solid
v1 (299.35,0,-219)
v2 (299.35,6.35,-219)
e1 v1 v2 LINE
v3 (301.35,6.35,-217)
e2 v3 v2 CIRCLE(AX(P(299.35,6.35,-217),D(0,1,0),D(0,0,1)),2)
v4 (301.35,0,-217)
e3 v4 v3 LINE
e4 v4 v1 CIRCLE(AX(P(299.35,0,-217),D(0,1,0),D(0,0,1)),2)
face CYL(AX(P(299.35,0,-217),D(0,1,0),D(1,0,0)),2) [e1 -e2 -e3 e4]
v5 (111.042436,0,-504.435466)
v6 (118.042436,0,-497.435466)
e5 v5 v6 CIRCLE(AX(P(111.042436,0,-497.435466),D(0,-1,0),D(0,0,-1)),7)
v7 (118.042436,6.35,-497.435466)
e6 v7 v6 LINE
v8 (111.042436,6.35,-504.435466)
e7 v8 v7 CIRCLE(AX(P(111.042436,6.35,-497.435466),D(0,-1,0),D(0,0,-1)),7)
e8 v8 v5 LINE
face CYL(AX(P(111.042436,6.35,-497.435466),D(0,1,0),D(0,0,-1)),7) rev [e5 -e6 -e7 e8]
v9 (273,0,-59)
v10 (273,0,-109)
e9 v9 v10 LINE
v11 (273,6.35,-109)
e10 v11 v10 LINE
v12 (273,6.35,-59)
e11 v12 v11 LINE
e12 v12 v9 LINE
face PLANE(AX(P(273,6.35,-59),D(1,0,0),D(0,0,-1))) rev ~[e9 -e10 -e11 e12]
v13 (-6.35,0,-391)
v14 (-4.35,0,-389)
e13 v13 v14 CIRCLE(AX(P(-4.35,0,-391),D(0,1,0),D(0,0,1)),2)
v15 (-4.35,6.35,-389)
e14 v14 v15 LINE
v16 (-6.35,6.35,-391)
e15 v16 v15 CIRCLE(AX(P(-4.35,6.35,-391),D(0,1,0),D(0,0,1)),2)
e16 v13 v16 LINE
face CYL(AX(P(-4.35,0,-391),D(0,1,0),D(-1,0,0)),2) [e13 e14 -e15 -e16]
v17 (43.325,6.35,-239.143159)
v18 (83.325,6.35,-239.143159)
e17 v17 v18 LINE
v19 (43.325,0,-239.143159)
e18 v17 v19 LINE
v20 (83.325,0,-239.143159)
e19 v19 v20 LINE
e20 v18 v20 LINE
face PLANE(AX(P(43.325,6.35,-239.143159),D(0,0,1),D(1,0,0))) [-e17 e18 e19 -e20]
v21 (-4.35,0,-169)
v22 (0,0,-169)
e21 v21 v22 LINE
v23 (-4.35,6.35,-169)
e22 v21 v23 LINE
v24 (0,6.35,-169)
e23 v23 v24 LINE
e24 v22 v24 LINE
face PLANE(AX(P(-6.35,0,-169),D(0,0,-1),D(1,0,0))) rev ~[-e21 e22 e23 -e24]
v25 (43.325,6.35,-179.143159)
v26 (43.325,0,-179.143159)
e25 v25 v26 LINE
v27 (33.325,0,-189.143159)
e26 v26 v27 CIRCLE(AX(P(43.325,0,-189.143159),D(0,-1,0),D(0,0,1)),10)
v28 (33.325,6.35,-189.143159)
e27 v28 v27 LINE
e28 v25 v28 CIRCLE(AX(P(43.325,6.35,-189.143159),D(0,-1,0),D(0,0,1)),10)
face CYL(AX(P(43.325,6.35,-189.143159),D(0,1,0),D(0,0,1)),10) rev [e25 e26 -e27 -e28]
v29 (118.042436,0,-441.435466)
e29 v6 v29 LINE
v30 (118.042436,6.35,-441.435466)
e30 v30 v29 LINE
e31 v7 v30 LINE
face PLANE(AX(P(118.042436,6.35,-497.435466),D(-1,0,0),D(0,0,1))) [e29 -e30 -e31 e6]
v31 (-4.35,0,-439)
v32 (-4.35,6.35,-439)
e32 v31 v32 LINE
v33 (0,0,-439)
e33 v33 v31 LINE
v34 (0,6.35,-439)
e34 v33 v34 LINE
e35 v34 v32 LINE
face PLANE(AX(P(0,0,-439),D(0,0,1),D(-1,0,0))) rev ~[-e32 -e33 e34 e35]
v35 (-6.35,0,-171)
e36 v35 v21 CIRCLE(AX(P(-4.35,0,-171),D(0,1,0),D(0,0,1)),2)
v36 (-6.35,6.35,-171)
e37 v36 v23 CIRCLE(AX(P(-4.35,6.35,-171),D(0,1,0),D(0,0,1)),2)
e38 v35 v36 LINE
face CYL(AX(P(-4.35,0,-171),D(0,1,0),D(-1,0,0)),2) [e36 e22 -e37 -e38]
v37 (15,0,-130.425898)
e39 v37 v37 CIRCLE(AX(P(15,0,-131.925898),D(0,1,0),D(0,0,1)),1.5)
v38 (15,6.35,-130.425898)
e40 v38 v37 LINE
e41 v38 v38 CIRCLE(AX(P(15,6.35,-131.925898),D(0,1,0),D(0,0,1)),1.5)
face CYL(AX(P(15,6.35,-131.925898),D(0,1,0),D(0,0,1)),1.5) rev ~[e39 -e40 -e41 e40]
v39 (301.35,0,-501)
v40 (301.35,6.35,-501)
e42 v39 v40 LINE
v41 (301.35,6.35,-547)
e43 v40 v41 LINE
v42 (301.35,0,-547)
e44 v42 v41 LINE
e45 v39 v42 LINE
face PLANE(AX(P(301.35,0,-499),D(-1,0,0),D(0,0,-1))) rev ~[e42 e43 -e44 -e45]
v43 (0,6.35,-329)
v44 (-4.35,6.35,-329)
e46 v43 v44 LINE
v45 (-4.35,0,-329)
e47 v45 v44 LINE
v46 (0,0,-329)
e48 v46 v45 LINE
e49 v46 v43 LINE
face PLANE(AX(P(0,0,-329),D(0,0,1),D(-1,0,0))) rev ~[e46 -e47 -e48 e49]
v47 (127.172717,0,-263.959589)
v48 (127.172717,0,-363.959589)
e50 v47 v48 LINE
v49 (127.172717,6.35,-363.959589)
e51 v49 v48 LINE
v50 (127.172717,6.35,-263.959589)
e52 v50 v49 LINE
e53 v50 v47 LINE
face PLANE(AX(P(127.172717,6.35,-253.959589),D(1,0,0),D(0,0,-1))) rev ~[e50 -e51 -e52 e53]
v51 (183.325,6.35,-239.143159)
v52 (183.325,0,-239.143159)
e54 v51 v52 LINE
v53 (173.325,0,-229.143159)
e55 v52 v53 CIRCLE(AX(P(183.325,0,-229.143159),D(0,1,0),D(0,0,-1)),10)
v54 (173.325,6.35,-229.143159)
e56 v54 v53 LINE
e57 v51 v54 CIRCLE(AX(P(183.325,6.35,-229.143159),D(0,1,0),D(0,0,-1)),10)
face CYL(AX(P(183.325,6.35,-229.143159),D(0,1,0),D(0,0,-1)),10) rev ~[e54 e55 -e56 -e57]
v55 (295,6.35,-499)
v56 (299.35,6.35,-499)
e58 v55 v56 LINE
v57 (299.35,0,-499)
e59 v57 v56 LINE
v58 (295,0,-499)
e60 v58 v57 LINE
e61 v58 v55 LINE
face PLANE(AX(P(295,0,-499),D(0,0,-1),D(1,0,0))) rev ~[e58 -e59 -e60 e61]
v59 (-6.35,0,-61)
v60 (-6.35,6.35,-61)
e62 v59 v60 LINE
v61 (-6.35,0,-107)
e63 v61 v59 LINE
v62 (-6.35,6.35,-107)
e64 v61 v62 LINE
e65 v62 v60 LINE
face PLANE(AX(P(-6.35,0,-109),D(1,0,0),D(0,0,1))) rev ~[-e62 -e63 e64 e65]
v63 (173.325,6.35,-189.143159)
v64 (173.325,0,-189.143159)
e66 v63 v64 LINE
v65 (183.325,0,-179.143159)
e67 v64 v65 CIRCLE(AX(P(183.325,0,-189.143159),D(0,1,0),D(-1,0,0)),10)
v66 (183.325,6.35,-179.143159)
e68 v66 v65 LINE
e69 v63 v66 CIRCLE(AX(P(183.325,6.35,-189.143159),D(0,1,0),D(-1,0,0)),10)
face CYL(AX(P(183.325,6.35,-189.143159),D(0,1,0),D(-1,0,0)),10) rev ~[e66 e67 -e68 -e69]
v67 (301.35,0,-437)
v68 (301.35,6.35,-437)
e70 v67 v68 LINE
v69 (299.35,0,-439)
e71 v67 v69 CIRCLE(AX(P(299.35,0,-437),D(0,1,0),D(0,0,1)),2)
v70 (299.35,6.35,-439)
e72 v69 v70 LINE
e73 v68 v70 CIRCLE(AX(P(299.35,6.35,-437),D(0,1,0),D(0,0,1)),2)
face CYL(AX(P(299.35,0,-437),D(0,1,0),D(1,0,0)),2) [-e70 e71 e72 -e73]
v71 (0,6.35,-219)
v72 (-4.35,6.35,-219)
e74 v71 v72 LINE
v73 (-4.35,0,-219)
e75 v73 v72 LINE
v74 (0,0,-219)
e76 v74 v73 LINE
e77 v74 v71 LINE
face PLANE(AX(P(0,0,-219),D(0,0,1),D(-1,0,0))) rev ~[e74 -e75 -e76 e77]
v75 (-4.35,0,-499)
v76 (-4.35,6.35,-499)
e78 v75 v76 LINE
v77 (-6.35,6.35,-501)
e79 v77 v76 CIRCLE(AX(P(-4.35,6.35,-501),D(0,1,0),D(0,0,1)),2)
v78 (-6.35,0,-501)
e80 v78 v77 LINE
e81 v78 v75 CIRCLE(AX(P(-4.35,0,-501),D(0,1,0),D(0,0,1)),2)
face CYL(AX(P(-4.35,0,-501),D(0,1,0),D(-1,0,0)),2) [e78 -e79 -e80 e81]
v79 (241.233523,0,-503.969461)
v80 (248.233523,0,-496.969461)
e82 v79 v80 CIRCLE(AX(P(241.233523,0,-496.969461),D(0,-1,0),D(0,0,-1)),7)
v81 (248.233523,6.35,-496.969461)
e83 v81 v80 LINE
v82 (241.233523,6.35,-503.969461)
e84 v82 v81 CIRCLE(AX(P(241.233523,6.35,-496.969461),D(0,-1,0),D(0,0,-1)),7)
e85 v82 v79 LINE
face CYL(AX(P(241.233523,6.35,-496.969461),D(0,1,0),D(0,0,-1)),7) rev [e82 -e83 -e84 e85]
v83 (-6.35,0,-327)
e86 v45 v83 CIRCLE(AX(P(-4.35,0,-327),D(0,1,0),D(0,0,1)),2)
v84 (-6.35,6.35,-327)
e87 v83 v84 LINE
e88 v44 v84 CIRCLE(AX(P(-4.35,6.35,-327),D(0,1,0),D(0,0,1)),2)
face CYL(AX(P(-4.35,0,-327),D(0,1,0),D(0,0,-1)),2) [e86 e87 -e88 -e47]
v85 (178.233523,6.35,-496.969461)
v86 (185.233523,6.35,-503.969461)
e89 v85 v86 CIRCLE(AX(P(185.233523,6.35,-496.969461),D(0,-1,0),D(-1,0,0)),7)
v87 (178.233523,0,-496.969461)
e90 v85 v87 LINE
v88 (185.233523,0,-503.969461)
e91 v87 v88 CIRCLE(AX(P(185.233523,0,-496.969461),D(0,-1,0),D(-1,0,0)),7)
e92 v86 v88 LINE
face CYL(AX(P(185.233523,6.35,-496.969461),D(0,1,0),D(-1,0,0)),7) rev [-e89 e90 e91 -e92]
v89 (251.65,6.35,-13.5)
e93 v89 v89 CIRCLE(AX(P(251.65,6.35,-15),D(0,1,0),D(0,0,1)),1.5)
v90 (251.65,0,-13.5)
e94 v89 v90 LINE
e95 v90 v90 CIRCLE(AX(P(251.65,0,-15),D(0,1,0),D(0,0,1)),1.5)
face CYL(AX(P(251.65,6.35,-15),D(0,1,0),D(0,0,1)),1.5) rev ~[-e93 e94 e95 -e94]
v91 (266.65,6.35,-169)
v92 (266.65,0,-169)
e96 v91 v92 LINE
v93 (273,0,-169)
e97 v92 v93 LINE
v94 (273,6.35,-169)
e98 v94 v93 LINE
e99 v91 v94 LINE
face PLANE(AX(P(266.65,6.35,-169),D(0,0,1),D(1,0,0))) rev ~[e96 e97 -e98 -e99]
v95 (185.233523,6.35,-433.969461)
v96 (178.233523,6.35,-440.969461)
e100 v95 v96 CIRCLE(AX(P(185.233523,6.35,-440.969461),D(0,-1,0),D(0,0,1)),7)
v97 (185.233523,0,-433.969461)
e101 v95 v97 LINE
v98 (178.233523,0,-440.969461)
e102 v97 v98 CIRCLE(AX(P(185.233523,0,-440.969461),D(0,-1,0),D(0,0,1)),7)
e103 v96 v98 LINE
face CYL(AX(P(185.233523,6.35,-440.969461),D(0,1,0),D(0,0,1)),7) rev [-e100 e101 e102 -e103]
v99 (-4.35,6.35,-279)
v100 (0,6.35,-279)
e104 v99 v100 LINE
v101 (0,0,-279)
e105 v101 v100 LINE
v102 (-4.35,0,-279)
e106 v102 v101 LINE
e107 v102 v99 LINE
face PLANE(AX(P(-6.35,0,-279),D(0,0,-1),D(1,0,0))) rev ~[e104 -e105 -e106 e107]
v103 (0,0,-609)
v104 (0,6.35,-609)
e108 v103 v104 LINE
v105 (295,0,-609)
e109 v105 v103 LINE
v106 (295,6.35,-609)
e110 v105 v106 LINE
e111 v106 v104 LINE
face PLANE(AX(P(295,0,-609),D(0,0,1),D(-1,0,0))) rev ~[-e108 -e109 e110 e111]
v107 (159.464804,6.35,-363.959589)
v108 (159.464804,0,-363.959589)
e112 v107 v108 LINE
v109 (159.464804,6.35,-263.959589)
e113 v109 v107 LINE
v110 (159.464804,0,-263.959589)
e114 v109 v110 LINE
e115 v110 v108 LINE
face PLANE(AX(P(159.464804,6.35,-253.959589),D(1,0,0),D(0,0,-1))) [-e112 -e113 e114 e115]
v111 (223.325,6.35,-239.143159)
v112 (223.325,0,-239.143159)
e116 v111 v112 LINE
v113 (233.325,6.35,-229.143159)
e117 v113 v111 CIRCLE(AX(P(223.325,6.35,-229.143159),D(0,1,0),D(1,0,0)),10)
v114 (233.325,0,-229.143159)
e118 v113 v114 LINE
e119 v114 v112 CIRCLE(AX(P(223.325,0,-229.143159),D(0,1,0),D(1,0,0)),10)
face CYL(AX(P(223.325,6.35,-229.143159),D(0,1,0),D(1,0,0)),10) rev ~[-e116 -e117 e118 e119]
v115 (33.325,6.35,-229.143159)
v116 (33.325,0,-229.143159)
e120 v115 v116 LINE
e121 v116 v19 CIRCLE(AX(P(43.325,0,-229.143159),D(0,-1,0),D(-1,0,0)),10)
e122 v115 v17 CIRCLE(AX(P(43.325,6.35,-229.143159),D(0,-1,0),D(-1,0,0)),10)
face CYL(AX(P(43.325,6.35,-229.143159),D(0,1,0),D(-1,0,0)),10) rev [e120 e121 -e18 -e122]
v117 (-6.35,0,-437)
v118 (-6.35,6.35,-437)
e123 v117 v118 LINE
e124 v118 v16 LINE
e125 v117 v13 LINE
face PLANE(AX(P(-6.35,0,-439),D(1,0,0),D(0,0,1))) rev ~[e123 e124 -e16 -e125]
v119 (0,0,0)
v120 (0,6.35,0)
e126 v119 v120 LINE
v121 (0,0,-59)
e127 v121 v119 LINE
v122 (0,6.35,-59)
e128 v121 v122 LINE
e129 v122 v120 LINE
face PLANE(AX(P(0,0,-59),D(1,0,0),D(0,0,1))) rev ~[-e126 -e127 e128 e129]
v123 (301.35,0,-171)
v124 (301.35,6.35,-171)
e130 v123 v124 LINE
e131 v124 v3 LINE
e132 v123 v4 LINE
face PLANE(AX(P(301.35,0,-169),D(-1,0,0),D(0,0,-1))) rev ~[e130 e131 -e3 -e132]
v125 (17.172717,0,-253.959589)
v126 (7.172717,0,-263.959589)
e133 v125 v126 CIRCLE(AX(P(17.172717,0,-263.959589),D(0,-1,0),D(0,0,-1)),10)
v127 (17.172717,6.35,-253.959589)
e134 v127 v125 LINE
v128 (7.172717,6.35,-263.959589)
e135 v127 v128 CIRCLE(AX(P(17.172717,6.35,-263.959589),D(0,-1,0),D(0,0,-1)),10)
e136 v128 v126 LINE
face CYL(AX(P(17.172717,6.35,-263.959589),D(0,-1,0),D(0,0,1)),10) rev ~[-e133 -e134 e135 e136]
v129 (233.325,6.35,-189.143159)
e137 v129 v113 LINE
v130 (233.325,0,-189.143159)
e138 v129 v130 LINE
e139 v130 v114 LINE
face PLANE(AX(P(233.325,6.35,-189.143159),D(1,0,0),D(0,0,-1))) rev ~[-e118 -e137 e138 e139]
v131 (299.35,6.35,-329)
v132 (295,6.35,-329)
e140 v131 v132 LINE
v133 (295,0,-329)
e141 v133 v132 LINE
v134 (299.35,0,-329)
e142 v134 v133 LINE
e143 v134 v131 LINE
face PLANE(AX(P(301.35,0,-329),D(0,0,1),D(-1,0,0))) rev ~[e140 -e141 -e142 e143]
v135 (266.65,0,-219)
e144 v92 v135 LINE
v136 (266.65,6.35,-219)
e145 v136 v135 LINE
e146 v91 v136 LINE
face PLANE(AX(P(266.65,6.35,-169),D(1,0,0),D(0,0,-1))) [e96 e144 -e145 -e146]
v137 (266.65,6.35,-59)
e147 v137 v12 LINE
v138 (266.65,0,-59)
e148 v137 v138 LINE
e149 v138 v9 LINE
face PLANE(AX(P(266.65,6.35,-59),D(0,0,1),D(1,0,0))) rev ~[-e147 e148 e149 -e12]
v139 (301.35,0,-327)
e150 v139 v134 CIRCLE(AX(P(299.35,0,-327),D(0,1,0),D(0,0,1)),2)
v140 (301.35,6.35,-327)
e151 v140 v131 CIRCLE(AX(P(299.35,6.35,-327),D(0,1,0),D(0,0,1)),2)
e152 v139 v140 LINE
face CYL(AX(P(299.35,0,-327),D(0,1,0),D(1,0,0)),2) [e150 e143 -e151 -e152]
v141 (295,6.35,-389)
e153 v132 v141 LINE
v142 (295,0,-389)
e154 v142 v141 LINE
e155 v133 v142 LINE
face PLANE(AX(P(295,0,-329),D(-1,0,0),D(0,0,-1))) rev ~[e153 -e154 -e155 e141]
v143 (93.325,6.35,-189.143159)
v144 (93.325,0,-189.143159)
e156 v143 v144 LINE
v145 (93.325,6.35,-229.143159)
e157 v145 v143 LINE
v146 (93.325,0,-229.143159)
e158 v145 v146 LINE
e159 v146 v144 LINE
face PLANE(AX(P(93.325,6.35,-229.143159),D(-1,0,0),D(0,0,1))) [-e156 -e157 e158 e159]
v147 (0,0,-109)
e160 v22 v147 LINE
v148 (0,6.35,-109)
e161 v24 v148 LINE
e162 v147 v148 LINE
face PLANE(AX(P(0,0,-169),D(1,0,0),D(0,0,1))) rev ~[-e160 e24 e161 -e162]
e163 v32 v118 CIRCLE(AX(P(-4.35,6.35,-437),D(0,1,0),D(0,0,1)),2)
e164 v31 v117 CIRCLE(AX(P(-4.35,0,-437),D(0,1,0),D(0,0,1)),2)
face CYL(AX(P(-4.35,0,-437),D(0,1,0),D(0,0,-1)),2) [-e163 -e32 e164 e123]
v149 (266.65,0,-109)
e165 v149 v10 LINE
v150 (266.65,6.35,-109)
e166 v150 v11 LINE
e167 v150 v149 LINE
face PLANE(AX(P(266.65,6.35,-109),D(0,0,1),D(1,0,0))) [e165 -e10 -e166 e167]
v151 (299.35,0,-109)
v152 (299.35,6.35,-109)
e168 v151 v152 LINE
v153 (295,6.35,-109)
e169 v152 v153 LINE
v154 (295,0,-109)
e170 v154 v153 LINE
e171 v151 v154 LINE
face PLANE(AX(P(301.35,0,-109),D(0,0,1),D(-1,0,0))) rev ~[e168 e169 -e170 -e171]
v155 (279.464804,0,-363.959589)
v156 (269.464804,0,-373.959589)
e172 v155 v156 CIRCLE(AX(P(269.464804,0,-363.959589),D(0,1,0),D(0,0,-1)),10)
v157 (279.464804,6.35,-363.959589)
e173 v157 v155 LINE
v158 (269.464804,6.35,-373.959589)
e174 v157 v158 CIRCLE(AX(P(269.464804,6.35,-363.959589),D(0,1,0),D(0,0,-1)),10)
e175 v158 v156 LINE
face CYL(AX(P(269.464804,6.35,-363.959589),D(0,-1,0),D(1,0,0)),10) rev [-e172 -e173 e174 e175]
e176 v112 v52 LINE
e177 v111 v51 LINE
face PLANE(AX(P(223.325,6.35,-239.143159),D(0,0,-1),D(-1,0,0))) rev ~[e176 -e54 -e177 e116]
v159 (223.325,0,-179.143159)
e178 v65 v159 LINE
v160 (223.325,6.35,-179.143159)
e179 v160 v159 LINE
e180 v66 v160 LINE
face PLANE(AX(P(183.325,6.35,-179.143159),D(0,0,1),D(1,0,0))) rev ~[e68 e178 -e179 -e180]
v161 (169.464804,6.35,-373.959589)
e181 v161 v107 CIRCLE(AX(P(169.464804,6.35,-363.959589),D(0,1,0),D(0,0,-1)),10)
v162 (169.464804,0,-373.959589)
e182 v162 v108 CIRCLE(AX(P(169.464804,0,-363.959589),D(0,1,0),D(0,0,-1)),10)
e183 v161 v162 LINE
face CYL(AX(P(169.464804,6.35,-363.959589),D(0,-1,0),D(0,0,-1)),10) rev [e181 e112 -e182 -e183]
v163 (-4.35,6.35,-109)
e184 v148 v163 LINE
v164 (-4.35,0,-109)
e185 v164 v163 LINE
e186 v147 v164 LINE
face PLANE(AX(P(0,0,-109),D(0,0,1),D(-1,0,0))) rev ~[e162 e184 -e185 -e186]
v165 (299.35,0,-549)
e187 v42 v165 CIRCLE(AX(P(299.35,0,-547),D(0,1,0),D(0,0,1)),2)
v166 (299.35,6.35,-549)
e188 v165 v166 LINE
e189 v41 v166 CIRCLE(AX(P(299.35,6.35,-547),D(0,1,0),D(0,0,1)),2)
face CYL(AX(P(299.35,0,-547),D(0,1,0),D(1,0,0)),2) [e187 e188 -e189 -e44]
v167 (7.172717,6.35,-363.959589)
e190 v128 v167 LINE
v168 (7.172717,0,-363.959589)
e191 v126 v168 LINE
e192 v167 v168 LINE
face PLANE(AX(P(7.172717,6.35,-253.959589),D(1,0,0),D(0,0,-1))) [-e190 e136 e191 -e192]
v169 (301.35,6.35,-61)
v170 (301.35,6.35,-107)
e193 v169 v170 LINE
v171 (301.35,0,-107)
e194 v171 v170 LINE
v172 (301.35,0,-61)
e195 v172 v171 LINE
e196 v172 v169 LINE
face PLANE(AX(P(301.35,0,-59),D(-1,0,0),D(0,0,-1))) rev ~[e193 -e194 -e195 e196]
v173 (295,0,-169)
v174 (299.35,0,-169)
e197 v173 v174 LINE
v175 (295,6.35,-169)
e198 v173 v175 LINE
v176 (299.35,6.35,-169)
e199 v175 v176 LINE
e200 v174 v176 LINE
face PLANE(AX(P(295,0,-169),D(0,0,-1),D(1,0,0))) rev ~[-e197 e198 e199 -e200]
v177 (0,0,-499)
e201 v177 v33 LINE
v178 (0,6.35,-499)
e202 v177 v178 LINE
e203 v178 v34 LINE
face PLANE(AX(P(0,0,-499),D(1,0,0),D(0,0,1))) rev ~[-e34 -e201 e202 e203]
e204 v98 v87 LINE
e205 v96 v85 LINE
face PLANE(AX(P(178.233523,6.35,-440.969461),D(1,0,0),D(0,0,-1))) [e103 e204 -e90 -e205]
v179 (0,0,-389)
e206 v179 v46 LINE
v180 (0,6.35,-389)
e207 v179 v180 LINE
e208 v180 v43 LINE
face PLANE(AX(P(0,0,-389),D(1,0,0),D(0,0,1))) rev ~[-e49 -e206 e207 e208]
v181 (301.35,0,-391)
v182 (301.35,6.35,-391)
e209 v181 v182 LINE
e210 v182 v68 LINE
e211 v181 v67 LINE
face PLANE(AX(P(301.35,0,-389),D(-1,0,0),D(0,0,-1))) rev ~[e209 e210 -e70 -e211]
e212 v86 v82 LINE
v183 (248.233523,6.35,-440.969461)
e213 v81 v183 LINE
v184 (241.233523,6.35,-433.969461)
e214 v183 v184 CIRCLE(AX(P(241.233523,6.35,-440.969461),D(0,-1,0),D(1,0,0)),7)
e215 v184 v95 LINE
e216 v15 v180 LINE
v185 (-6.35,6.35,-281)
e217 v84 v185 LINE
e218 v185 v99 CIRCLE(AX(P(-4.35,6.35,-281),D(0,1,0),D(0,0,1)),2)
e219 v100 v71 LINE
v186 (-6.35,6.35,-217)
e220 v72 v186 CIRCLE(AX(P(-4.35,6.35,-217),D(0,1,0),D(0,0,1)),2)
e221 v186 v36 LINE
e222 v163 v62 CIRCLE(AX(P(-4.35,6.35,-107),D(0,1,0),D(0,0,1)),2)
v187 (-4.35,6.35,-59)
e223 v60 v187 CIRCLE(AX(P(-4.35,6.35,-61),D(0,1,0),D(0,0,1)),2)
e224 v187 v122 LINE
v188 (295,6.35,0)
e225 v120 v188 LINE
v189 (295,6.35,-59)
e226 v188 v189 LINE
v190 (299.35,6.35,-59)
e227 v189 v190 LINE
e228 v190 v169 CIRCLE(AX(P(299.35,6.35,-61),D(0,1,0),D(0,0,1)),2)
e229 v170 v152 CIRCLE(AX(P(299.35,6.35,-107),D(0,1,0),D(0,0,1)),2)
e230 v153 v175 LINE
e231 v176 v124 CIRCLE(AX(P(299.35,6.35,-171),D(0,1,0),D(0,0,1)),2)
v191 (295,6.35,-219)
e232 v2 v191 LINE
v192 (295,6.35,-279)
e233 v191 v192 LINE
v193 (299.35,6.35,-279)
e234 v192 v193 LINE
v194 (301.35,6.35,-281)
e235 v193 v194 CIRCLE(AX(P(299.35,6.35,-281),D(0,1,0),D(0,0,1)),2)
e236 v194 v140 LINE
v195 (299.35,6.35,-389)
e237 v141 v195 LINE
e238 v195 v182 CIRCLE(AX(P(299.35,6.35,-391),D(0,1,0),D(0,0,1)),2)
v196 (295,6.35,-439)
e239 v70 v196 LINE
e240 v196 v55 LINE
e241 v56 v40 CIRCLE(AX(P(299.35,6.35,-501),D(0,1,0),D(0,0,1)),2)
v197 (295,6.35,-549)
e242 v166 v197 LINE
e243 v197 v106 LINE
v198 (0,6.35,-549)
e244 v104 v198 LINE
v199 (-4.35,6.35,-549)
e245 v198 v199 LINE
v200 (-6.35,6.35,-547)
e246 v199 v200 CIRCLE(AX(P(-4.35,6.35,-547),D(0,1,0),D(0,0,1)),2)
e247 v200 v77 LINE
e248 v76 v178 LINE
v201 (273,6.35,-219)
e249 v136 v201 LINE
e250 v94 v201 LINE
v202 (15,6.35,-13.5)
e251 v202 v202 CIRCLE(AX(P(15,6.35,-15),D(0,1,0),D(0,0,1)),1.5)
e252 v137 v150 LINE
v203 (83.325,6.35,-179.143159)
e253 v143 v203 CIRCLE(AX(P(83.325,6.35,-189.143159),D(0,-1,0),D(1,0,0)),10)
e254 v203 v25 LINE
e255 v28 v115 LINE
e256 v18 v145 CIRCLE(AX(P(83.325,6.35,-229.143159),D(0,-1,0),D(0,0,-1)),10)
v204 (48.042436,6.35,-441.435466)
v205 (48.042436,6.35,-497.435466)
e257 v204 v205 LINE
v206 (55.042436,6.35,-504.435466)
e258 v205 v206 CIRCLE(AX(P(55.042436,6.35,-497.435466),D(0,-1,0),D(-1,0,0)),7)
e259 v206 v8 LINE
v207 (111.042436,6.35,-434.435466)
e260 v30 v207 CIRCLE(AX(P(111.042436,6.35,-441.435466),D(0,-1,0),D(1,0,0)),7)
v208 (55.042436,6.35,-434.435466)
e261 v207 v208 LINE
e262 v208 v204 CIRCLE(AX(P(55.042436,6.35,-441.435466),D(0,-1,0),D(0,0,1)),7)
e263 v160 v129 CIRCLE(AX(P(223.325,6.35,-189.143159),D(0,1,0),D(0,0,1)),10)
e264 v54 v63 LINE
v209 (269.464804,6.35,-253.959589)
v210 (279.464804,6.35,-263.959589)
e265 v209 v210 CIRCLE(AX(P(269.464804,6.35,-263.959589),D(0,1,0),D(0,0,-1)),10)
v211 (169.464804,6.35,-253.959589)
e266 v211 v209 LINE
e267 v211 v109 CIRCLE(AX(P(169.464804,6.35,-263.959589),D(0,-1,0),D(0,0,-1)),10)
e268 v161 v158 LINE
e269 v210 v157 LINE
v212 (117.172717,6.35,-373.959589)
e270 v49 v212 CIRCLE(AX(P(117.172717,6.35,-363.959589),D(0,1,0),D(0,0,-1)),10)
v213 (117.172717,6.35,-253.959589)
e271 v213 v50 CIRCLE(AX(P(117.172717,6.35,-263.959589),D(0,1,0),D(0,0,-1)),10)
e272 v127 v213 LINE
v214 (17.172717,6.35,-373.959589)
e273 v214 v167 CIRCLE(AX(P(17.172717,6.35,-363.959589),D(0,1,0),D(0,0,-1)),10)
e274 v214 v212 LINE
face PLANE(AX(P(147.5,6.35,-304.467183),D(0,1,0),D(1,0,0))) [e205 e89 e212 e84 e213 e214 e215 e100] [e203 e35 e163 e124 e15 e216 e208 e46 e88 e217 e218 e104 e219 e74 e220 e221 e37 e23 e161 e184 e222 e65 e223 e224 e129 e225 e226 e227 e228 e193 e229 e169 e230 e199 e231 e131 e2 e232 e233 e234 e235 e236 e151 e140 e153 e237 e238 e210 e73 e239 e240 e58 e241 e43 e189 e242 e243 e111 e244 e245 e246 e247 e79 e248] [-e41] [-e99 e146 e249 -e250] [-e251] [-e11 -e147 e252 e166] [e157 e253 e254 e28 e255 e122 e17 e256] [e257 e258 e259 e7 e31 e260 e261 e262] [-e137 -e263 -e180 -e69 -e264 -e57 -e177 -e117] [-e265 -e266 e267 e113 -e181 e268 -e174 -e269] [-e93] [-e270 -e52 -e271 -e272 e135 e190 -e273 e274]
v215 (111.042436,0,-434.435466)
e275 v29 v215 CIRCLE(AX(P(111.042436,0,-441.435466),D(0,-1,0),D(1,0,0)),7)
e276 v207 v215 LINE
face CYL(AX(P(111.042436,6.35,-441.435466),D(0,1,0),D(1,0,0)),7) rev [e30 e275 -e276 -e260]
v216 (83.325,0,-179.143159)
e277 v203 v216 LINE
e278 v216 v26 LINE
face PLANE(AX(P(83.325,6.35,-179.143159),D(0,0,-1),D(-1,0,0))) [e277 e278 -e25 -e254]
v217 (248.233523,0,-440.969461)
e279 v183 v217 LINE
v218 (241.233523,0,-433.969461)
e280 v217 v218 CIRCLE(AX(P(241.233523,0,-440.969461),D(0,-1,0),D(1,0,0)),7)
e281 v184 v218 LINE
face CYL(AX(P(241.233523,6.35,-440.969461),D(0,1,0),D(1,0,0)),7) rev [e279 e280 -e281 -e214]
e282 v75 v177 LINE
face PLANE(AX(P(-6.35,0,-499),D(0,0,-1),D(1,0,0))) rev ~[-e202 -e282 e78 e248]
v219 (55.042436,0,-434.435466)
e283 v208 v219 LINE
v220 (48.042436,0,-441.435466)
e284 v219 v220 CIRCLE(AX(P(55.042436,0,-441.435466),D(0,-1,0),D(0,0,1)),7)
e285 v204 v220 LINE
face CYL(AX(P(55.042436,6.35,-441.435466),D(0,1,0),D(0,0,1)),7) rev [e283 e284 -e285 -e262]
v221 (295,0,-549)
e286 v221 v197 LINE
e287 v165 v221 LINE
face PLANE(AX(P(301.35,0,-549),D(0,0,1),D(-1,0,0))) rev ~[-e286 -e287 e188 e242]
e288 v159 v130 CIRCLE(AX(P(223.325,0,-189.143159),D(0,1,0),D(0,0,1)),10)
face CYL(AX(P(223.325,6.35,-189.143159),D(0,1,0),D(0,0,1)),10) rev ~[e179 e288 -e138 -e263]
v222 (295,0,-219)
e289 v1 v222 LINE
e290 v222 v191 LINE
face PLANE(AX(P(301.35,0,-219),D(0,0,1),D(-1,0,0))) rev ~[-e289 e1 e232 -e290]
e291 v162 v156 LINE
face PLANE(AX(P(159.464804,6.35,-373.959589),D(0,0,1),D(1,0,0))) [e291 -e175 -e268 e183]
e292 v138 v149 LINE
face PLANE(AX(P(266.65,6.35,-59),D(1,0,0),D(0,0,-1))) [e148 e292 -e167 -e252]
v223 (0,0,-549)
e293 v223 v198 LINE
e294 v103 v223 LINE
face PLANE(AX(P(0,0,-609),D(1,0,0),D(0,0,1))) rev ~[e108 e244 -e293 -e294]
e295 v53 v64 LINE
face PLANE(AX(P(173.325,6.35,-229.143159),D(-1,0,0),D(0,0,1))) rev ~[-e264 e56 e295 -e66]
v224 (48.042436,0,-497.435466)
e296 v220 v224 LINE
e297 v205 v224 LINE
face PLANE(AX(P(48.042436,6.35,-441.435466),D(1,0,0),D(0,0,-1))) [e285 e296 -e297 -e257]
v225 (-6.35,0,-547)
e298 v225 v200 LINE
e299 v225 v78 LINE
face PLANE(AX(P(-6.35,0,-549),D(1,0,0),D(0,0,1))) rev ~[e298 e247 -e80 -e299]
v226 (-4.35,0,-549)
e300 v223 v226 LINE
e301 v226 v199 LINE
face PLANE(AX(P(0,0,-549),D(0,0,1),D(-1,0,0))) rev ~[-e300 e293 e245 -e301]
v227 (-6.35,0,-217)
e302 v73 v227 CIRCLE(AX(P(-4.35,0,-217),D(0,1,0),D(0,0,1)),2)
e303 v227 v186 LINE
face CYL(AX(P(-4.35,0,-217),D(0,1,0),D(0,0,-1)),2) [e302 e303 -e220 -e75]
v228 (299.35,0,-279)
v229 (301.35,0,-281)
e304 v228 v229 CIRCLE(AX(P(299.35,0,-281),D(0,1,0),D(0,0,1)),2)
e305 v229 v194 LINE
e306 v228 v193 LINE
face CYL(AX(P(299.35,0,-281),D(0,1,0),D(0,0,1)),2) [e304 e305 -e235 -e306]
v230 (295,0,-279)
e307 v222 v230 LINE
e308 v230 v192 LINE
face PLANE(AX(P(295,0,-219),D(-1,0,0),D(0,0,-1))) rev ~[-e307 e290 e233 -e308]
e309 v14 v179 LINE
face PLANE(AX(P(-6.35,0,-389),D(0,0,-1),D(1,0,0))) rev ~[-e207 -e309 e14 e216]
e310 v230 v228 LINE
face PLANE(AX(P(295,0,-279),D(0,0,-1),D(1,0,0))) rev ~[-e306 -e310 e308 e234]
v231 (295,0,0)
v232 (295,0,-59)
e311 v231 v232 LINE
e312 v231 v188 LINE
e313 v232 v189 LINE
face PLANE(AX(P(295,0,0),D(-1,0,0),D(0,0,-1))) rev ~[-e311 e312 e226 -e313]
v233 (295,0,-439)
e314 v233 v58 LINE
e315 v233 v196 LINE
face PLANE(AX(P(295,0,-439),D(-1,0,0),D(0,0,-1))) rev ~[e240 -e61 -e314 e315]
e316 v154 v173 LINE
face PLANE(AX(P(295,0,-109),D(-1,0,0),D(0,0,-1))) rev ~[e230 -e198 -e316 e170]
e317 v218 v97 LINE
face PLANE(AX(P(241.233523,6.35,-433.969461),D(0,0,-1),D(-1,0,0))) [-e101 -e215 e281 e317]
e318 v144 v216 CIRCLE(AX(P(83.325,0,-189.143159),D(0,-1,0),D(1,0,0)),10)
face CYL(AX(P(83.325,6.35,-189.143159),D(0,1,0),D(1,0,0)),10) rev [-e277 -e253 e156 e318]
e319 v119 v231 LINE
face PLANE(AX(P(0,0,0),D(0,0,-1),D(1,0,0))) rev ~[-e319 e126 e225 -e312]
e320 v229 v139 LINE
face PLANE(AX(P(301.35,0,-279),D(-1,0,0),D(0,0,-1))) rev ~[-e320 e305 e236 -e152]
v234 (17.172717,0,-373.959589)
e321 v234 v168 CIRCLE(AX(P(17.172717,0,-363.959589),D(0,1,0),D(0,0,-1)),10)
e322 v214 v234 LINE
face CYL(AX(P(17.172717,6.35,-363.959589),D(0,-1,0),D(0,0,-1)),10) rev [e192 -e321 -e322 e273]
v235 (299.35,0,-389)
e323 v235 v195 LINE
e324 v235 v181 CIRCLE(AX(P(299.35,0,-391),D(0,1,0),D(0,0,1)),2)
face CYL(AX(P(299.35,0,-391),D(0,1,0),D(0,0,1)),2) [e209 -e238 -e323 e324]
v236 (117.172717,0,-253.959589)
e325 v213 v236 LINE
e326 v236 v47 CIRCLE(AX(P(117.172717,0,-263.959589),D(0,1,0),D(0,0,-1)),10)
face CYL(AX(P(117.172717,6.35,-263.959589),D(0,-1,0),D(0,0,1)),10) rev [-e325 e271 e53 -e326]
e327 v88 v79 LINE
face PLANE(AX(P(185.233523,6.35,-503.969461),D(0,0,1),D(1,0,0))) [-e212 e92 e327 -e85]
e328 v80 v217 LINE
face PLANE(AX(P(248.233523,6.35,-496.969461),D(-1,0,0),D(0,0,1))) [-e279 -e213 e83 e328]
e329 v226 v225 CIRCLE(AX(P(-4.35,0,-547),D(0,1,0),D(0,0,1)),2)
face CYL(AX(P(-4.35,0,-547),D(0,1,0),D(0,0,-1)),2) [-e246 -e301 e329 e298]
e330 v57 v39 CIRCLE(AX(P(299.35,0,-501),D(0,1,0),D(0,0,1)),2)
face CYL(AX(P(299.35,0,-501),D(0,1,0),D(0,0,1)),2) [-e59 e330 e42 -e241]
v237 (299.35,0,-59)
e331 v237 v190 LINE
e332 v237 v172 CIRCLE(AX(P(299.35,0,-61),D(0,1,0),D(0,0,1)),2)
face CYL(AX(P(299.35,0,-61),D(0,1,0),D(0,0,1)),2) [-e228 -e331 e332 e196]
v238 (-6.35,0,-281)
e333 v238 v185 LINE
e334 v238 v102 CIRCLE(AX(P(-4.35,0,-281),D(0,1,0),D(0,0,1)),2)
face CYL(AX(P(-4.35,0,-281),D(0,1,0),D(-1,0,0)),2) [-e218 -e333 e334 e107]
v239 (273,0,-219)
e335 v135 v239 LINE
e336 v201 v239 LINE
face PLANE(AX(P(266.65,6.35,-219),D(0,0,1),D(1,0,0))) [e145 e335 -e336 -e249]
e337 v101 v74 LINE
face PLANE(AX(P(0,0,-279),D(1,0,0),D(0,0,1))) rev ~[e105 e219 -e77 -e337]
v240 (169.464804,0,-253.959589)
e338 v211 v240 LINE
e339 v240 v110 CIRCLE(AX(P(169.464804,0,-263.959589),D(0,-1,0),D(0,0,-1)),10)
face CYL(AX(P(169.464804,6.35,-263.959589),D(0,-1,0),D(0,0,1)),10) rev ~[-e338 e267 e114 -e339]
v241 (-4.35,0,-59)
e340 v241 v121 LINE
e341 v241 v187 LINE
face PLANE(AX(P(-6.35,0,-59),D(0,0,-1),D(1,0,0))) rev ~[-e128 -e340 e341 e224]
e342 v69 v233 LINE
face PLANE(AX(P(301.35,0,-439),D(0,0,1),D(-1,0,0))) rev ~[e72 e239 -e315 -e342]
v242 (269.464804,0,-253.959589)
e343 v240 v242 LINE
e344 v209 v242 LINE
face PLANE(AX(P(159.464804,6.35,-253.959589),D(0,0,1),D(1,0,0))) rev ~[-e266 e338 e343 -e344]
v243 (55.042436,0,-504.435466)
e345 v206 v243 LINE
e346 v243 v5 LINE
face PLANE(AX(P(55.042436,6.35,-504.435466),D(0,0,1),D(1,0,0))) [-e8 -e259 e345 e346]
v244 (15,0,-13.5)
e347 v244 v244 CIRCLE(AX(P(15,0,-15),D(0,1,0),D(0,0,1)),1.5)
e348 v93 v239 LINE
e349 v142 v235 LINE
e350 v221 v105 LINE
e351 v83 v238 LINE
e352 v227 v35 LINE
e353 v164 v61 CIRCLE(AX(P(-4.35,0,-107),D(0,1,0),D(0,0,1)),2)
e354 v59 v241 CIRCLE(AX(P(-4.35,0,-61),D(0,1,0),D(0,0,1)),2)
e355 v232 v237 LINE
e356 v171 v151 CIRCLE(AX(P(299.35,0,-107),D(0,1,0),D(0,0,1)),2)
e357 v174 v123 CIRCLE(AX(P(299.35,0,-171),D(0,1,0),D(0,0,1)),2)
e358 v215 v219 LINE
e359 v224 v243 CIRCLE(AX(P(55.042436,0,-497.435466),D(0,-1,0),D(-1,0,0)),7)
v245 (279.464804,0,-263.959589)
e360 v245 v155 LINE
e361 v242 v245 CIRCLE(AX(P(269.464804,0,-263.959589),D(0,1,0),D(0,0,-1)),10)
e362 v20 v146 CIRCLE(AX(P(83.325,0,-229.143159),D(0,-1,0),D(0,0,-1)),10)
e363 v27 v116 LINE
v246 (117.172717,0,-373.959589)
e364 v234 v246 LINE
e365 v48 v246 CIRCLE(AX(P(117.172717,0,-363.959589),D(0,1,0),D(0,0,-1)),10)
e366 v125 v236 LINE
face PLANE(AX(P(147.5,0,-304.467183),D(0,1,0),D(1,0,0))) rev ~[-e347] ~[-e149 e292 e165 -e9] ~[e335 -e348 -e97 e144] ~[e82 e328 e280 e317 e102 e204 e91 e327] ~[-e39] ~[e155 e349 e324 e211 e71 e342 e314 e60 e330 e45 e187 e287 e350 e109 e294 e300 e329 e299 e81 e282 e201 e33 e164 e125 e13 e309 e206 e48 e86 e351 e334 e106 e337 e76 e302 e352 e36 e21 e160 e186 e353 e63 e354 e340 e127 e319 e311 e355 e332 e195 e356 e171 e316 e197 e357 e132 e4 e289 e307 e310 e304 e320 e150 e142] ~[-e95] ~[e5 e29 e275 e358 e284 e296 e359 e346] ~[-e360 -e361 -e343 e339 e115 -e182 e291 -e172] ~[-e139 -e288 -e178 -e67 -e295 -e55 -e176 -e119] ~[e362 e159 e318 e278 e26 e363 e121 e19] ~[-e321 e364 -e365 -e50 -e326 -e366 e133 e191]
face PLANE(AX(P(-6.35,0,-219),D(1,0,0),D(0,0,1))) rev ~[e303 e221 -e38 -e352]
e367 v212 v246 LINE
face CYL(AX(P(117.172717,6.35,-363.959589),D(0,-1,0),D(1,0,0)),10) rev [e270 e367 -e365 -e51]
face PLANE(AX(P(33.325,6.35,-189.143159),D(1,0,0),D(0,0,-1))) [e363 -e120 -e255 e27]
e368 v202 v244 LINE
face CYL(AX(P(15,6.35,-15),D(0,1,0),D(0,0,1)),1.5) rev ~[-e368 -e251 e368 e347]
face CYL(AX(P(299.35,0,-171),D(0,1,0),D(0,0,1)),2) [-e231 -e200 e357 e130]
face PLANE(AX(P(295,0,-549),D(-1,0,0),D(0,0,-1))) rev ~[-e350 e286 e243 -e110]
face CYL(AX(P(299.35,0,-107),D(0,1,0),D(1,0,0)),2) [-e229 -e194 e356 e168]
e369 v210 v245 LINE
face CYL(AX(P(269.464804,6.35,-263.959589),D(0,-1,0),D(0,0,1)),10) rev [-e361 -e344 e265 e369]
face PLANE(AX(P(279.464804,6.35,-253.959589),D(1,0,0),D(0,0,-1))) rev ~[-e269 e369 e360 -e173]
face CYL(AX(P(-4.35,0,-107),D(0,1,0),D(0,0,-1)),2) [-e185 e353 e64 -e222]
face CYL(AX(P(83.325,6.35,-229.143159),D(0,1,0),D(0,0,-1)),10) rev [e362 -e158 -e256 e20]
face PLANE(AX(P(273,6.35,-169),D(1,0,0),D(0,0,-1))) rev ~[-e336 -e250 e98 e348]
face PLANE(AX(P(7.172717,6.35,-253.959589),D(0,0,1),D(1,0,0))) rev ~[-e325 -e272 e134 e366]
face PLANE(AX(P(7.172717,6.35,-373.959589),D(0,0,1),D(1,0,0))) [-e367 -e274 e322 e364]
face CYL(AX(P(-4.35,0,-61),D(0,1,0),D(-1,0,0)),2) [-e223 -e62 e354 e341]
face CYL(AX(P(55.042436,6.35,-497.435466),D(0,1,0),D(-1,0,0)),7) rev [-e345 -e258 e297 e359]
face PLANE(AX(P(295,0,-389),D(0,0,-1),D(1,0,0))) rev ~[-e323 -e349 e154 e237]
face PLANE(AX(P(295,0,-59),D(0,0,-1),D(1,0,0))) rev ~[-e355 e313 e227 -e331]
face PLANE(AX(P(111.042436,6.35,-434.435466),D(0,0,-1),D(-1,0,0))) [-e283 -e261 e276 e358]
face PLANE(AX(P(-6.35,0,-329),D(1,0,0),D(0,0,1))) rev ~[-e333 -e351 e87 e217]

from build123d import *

# Parameters (mm, degrees)
BOSS_EXTRUDE1_DEPTH = 6.35
FILLET1_R           = 2
SKETCH2_R           = 1.5
SKETCH2_W           = 6.35
SKETCH2_H           = 50
SKETCH2_W_2         = 120
SKETCH2_H_2         = 120
CUT_EXTRUDE1_DEPTH  = 6.35
FILLET2_R           = 10


with BuildPart() as part:
    # Sketch1 → Boss-Extrude1 (new body)
    with BuildSketch(Plane(origin=(0, 0, 0), x_dir=(1, 0, 0), z_dir=(0, 1, 0))):
        Polygon((0, 0), (295, 0), (295, 59), (301.35, 59), (301.35, 109), (295, 109), (295, 169), (301.35, 169), (301.35, 219), (295, 219), (295, 279), (301.35, 279), (301.35, 329), (295, 329), (295, 389), (301.35, 389), (301.35, 439), (295, 439), (295, 499), (301.35, 499), (301.35, 549), (295, 549), (295, 609), (0, 609), (0, 549), (-6.35, 549), (-6.35, 499), (0, 499), (0, 439), (-6.35, 439), (-6.35, 389), (0, 389), (0, 329), (-6.35, 329), (-6.35, 279), (0, 279), (0, 219), (-6.35, 219), (-6.35, 169), (0, 169), (0, 109), (-6.35, 109), (-6.35, 59), (0, 59), align=None)
    extrude(amount=BOSS_EXTRUDE1_DEPTH)

    # Fillet1
    fillet1_edges = [part.edges().sort_by_distance(p)[0] for p in [
        (-6.35, 3.175, -59),
        (-6.35, 3.175, -109),
        (-6.35, 3.175, -169),
        (-6.35, 3.175, -219),
        (-6.35, 3.175, -279),
        (-6.35, 3.175, -329),
        (-6.35, 3.175, -389),
        (-6.35, 3.175, -439),
        (-6.35, 3.175, -499),
        (-6.35, 3.175, -549),
        (301.35, 3.175, -549),
        (301.35, 3.175, -499),
        (301.35, 3.175, -439),
        (301.35, 3.175, -389),
        (301.35, 3.175, -329),
        (301.35, 3.175, -279),
        (301.35, 3.175, -219),
        (301.35, 3.175, -169),
        (301.35, 3.175, -109),
        (301.35, 3.175, -59),
    ]]
    fillet(fillet1_edges, radius=FILLET1_R)

    # Sketch2 → Cut-Extrude1 (cut)
    with BuildSketch(Plane(origin=(0, 6.35, 0), x_dir=(1, 0, 0), z_dir=(0, 1, 0))):
        with Locations(Location((15, 15, 0), (0, 0, 270))):
            Circle(SKETCH2_R)
        with Locations(Location((251.65, 15, 0), (0, 0, 270))):
            Circle(SKETCH2_R)
        with Locations(Location((15, 131.925897501, 0), (0, 0, 270))):
            Circle(SKETCH2_R)
        with Locations((269.825, 194)):
            Rectangle(SKETCH2_W, SKETCH2_H)
        with Locations((269.825, 84)):
            Rectangle(SKETCH2_W, SKETCH2_H)
        with BuildLine():
            Line((55.042435698, 504.435466218), (111.042435698, 504.435466218))
            ThreePointArc((111.042435698, 504.435466218), (115.992183166, 502.385213686), (118.042435698, 497.435466218))
            Line((118.042435698, 497.435466218), (118.042435698, 441.435466218))
            ThreePointArc((118.042435698, 441.435466218), (115.992183166, 436.48571875), (111.042435698, 434.435466218))
            Line((111.042435698, 434.435466218), (55.042435698, 434.435466218))
            ThreePointArc((55.042435698, 434.435466218), (50.09268823, 436.48571875), (48.042435698, 441.435466218))
            Line((48.042435698, 441.435466218), (48.042435698, 497.435466218))
            ThreePointArc((48.042435698, 497.435466218), (50.09268823, 502.385213686), (55.042435698, 504.435466218))
        make_face()
        with BuildLine():
            Line((185.233522799, 503.969461472), (241.233522799, 503.969461472))
            ThreePointArc((241.233522799, 503.969461472), (246.183270267, 501.91920894), (248.233522799, 496.969461472))
            Line((248.233522799, 496.969461472), (248.233522799, 440.969461472))
            ThreePointArc((248.233522799, 440.969461472), (246.183270267, 436.019714004), (241.233522799, 433.969461472))
            Line((241.233522799, 433.969461472), (185.233522799, 433.969461472))
            ThreePointArc((185.233522799, 433.969461472), (180.283775331, 436.019714004), (178.233522799, 440.969461472))
            Line((178.233522799, 440.969461472), (178.233522799, 496.969461472))
            ThreePointArc((178.233522799, 496.969461472), (180.283775331, 501.91920894), (185.233522799, 503.969461472))
        make_face()
        with BuildLine():
            Line((43.325, 239.143159068), (83.325, 239.143159068))
            ThreePointArc((83.325, 239.143159068), (90.396067812, 236.21422688), (93.325, 229.143159068))
            Line((93.325, 229.143159068), (93.325, 189.143159068))
            ThreePointArc((93.325, 189.143159068), (90.396067812, 182.072091256), (83.325, 179.143159068))
            Line((83.325, 179.143159068), (43.325, 179.143159068))
            ThreePointArc((43.325, 179.143159068), (36.253932188, 182.072091256), (33.325, 189.143159068))
            Line((33.325, 189.143159068), (33.325, 229.143159068))
            ThreePointArc((33.325, 229.143159068), (36.253932188, 236.21422688), (43.325, 239.143159068))
        make_face()
        with Locations((67.172717051, 313.959589149)):
            Rectangle(SKETCH2_W_2, SKETCH2_H_2)
        with Locations((219.464803824, 313.959589149)):
            Rectangle(SKETCH2_W_2, SKETCH2_H_2)
        with BuildLine():
            Line((173.325, 229.143159068), (173.325, 189.143159068))
            ThreePointArc((173.325, 189.143159068), (176.253932188, 182.072091256), (183.325, 179.143159068))
            Line((183.325, 179.143159068), (223.325, 179.143159068))
            ThreePointArc((223.325, 179.143159068), (230.396067812, 182.072091256), (233.325, 189.143159068))
            Line((233.325, 189.143159068), (233.325, 229.143159068))
            ThreePointArc((233.325, 229.143159068), (230.396067812, 236.21422688), (223.325, 239.143159068))
            Line((223.325, 239.143159068), (183.325, 239.143159068))
            ThreePointArc((183.325, 239.143159068), (176.253932188, 236.21422688), (173.325, 229.143159068))
        make_face()
    extrude(amount=-CUT_EXTRUDE1_DEPTH, mode=Mode.SUBTRACT)

    # Fillet2
    fillet2_edges = [part.edges().sort_by_distance(p)[0] for p in [
        (7.172717051, 3.175, -253.959589149),
        (7.172717051, 3.175, -373.959589149),
        (127.172717051, 3.175, -373.959589149),
        (127.172717051, 3.175, -253.959589149),
        (159.464803824, 3.175, -253.959589149),
        (159.464803824, 3.175, -373.959589149),
        (279.464803824, 3.175, -373.959589149),
        (279.464803824, 3.175, -253.959589149),
    ]]
    fillet(fillet2_edges, radius=FILLET2_R)


solid = part.part
